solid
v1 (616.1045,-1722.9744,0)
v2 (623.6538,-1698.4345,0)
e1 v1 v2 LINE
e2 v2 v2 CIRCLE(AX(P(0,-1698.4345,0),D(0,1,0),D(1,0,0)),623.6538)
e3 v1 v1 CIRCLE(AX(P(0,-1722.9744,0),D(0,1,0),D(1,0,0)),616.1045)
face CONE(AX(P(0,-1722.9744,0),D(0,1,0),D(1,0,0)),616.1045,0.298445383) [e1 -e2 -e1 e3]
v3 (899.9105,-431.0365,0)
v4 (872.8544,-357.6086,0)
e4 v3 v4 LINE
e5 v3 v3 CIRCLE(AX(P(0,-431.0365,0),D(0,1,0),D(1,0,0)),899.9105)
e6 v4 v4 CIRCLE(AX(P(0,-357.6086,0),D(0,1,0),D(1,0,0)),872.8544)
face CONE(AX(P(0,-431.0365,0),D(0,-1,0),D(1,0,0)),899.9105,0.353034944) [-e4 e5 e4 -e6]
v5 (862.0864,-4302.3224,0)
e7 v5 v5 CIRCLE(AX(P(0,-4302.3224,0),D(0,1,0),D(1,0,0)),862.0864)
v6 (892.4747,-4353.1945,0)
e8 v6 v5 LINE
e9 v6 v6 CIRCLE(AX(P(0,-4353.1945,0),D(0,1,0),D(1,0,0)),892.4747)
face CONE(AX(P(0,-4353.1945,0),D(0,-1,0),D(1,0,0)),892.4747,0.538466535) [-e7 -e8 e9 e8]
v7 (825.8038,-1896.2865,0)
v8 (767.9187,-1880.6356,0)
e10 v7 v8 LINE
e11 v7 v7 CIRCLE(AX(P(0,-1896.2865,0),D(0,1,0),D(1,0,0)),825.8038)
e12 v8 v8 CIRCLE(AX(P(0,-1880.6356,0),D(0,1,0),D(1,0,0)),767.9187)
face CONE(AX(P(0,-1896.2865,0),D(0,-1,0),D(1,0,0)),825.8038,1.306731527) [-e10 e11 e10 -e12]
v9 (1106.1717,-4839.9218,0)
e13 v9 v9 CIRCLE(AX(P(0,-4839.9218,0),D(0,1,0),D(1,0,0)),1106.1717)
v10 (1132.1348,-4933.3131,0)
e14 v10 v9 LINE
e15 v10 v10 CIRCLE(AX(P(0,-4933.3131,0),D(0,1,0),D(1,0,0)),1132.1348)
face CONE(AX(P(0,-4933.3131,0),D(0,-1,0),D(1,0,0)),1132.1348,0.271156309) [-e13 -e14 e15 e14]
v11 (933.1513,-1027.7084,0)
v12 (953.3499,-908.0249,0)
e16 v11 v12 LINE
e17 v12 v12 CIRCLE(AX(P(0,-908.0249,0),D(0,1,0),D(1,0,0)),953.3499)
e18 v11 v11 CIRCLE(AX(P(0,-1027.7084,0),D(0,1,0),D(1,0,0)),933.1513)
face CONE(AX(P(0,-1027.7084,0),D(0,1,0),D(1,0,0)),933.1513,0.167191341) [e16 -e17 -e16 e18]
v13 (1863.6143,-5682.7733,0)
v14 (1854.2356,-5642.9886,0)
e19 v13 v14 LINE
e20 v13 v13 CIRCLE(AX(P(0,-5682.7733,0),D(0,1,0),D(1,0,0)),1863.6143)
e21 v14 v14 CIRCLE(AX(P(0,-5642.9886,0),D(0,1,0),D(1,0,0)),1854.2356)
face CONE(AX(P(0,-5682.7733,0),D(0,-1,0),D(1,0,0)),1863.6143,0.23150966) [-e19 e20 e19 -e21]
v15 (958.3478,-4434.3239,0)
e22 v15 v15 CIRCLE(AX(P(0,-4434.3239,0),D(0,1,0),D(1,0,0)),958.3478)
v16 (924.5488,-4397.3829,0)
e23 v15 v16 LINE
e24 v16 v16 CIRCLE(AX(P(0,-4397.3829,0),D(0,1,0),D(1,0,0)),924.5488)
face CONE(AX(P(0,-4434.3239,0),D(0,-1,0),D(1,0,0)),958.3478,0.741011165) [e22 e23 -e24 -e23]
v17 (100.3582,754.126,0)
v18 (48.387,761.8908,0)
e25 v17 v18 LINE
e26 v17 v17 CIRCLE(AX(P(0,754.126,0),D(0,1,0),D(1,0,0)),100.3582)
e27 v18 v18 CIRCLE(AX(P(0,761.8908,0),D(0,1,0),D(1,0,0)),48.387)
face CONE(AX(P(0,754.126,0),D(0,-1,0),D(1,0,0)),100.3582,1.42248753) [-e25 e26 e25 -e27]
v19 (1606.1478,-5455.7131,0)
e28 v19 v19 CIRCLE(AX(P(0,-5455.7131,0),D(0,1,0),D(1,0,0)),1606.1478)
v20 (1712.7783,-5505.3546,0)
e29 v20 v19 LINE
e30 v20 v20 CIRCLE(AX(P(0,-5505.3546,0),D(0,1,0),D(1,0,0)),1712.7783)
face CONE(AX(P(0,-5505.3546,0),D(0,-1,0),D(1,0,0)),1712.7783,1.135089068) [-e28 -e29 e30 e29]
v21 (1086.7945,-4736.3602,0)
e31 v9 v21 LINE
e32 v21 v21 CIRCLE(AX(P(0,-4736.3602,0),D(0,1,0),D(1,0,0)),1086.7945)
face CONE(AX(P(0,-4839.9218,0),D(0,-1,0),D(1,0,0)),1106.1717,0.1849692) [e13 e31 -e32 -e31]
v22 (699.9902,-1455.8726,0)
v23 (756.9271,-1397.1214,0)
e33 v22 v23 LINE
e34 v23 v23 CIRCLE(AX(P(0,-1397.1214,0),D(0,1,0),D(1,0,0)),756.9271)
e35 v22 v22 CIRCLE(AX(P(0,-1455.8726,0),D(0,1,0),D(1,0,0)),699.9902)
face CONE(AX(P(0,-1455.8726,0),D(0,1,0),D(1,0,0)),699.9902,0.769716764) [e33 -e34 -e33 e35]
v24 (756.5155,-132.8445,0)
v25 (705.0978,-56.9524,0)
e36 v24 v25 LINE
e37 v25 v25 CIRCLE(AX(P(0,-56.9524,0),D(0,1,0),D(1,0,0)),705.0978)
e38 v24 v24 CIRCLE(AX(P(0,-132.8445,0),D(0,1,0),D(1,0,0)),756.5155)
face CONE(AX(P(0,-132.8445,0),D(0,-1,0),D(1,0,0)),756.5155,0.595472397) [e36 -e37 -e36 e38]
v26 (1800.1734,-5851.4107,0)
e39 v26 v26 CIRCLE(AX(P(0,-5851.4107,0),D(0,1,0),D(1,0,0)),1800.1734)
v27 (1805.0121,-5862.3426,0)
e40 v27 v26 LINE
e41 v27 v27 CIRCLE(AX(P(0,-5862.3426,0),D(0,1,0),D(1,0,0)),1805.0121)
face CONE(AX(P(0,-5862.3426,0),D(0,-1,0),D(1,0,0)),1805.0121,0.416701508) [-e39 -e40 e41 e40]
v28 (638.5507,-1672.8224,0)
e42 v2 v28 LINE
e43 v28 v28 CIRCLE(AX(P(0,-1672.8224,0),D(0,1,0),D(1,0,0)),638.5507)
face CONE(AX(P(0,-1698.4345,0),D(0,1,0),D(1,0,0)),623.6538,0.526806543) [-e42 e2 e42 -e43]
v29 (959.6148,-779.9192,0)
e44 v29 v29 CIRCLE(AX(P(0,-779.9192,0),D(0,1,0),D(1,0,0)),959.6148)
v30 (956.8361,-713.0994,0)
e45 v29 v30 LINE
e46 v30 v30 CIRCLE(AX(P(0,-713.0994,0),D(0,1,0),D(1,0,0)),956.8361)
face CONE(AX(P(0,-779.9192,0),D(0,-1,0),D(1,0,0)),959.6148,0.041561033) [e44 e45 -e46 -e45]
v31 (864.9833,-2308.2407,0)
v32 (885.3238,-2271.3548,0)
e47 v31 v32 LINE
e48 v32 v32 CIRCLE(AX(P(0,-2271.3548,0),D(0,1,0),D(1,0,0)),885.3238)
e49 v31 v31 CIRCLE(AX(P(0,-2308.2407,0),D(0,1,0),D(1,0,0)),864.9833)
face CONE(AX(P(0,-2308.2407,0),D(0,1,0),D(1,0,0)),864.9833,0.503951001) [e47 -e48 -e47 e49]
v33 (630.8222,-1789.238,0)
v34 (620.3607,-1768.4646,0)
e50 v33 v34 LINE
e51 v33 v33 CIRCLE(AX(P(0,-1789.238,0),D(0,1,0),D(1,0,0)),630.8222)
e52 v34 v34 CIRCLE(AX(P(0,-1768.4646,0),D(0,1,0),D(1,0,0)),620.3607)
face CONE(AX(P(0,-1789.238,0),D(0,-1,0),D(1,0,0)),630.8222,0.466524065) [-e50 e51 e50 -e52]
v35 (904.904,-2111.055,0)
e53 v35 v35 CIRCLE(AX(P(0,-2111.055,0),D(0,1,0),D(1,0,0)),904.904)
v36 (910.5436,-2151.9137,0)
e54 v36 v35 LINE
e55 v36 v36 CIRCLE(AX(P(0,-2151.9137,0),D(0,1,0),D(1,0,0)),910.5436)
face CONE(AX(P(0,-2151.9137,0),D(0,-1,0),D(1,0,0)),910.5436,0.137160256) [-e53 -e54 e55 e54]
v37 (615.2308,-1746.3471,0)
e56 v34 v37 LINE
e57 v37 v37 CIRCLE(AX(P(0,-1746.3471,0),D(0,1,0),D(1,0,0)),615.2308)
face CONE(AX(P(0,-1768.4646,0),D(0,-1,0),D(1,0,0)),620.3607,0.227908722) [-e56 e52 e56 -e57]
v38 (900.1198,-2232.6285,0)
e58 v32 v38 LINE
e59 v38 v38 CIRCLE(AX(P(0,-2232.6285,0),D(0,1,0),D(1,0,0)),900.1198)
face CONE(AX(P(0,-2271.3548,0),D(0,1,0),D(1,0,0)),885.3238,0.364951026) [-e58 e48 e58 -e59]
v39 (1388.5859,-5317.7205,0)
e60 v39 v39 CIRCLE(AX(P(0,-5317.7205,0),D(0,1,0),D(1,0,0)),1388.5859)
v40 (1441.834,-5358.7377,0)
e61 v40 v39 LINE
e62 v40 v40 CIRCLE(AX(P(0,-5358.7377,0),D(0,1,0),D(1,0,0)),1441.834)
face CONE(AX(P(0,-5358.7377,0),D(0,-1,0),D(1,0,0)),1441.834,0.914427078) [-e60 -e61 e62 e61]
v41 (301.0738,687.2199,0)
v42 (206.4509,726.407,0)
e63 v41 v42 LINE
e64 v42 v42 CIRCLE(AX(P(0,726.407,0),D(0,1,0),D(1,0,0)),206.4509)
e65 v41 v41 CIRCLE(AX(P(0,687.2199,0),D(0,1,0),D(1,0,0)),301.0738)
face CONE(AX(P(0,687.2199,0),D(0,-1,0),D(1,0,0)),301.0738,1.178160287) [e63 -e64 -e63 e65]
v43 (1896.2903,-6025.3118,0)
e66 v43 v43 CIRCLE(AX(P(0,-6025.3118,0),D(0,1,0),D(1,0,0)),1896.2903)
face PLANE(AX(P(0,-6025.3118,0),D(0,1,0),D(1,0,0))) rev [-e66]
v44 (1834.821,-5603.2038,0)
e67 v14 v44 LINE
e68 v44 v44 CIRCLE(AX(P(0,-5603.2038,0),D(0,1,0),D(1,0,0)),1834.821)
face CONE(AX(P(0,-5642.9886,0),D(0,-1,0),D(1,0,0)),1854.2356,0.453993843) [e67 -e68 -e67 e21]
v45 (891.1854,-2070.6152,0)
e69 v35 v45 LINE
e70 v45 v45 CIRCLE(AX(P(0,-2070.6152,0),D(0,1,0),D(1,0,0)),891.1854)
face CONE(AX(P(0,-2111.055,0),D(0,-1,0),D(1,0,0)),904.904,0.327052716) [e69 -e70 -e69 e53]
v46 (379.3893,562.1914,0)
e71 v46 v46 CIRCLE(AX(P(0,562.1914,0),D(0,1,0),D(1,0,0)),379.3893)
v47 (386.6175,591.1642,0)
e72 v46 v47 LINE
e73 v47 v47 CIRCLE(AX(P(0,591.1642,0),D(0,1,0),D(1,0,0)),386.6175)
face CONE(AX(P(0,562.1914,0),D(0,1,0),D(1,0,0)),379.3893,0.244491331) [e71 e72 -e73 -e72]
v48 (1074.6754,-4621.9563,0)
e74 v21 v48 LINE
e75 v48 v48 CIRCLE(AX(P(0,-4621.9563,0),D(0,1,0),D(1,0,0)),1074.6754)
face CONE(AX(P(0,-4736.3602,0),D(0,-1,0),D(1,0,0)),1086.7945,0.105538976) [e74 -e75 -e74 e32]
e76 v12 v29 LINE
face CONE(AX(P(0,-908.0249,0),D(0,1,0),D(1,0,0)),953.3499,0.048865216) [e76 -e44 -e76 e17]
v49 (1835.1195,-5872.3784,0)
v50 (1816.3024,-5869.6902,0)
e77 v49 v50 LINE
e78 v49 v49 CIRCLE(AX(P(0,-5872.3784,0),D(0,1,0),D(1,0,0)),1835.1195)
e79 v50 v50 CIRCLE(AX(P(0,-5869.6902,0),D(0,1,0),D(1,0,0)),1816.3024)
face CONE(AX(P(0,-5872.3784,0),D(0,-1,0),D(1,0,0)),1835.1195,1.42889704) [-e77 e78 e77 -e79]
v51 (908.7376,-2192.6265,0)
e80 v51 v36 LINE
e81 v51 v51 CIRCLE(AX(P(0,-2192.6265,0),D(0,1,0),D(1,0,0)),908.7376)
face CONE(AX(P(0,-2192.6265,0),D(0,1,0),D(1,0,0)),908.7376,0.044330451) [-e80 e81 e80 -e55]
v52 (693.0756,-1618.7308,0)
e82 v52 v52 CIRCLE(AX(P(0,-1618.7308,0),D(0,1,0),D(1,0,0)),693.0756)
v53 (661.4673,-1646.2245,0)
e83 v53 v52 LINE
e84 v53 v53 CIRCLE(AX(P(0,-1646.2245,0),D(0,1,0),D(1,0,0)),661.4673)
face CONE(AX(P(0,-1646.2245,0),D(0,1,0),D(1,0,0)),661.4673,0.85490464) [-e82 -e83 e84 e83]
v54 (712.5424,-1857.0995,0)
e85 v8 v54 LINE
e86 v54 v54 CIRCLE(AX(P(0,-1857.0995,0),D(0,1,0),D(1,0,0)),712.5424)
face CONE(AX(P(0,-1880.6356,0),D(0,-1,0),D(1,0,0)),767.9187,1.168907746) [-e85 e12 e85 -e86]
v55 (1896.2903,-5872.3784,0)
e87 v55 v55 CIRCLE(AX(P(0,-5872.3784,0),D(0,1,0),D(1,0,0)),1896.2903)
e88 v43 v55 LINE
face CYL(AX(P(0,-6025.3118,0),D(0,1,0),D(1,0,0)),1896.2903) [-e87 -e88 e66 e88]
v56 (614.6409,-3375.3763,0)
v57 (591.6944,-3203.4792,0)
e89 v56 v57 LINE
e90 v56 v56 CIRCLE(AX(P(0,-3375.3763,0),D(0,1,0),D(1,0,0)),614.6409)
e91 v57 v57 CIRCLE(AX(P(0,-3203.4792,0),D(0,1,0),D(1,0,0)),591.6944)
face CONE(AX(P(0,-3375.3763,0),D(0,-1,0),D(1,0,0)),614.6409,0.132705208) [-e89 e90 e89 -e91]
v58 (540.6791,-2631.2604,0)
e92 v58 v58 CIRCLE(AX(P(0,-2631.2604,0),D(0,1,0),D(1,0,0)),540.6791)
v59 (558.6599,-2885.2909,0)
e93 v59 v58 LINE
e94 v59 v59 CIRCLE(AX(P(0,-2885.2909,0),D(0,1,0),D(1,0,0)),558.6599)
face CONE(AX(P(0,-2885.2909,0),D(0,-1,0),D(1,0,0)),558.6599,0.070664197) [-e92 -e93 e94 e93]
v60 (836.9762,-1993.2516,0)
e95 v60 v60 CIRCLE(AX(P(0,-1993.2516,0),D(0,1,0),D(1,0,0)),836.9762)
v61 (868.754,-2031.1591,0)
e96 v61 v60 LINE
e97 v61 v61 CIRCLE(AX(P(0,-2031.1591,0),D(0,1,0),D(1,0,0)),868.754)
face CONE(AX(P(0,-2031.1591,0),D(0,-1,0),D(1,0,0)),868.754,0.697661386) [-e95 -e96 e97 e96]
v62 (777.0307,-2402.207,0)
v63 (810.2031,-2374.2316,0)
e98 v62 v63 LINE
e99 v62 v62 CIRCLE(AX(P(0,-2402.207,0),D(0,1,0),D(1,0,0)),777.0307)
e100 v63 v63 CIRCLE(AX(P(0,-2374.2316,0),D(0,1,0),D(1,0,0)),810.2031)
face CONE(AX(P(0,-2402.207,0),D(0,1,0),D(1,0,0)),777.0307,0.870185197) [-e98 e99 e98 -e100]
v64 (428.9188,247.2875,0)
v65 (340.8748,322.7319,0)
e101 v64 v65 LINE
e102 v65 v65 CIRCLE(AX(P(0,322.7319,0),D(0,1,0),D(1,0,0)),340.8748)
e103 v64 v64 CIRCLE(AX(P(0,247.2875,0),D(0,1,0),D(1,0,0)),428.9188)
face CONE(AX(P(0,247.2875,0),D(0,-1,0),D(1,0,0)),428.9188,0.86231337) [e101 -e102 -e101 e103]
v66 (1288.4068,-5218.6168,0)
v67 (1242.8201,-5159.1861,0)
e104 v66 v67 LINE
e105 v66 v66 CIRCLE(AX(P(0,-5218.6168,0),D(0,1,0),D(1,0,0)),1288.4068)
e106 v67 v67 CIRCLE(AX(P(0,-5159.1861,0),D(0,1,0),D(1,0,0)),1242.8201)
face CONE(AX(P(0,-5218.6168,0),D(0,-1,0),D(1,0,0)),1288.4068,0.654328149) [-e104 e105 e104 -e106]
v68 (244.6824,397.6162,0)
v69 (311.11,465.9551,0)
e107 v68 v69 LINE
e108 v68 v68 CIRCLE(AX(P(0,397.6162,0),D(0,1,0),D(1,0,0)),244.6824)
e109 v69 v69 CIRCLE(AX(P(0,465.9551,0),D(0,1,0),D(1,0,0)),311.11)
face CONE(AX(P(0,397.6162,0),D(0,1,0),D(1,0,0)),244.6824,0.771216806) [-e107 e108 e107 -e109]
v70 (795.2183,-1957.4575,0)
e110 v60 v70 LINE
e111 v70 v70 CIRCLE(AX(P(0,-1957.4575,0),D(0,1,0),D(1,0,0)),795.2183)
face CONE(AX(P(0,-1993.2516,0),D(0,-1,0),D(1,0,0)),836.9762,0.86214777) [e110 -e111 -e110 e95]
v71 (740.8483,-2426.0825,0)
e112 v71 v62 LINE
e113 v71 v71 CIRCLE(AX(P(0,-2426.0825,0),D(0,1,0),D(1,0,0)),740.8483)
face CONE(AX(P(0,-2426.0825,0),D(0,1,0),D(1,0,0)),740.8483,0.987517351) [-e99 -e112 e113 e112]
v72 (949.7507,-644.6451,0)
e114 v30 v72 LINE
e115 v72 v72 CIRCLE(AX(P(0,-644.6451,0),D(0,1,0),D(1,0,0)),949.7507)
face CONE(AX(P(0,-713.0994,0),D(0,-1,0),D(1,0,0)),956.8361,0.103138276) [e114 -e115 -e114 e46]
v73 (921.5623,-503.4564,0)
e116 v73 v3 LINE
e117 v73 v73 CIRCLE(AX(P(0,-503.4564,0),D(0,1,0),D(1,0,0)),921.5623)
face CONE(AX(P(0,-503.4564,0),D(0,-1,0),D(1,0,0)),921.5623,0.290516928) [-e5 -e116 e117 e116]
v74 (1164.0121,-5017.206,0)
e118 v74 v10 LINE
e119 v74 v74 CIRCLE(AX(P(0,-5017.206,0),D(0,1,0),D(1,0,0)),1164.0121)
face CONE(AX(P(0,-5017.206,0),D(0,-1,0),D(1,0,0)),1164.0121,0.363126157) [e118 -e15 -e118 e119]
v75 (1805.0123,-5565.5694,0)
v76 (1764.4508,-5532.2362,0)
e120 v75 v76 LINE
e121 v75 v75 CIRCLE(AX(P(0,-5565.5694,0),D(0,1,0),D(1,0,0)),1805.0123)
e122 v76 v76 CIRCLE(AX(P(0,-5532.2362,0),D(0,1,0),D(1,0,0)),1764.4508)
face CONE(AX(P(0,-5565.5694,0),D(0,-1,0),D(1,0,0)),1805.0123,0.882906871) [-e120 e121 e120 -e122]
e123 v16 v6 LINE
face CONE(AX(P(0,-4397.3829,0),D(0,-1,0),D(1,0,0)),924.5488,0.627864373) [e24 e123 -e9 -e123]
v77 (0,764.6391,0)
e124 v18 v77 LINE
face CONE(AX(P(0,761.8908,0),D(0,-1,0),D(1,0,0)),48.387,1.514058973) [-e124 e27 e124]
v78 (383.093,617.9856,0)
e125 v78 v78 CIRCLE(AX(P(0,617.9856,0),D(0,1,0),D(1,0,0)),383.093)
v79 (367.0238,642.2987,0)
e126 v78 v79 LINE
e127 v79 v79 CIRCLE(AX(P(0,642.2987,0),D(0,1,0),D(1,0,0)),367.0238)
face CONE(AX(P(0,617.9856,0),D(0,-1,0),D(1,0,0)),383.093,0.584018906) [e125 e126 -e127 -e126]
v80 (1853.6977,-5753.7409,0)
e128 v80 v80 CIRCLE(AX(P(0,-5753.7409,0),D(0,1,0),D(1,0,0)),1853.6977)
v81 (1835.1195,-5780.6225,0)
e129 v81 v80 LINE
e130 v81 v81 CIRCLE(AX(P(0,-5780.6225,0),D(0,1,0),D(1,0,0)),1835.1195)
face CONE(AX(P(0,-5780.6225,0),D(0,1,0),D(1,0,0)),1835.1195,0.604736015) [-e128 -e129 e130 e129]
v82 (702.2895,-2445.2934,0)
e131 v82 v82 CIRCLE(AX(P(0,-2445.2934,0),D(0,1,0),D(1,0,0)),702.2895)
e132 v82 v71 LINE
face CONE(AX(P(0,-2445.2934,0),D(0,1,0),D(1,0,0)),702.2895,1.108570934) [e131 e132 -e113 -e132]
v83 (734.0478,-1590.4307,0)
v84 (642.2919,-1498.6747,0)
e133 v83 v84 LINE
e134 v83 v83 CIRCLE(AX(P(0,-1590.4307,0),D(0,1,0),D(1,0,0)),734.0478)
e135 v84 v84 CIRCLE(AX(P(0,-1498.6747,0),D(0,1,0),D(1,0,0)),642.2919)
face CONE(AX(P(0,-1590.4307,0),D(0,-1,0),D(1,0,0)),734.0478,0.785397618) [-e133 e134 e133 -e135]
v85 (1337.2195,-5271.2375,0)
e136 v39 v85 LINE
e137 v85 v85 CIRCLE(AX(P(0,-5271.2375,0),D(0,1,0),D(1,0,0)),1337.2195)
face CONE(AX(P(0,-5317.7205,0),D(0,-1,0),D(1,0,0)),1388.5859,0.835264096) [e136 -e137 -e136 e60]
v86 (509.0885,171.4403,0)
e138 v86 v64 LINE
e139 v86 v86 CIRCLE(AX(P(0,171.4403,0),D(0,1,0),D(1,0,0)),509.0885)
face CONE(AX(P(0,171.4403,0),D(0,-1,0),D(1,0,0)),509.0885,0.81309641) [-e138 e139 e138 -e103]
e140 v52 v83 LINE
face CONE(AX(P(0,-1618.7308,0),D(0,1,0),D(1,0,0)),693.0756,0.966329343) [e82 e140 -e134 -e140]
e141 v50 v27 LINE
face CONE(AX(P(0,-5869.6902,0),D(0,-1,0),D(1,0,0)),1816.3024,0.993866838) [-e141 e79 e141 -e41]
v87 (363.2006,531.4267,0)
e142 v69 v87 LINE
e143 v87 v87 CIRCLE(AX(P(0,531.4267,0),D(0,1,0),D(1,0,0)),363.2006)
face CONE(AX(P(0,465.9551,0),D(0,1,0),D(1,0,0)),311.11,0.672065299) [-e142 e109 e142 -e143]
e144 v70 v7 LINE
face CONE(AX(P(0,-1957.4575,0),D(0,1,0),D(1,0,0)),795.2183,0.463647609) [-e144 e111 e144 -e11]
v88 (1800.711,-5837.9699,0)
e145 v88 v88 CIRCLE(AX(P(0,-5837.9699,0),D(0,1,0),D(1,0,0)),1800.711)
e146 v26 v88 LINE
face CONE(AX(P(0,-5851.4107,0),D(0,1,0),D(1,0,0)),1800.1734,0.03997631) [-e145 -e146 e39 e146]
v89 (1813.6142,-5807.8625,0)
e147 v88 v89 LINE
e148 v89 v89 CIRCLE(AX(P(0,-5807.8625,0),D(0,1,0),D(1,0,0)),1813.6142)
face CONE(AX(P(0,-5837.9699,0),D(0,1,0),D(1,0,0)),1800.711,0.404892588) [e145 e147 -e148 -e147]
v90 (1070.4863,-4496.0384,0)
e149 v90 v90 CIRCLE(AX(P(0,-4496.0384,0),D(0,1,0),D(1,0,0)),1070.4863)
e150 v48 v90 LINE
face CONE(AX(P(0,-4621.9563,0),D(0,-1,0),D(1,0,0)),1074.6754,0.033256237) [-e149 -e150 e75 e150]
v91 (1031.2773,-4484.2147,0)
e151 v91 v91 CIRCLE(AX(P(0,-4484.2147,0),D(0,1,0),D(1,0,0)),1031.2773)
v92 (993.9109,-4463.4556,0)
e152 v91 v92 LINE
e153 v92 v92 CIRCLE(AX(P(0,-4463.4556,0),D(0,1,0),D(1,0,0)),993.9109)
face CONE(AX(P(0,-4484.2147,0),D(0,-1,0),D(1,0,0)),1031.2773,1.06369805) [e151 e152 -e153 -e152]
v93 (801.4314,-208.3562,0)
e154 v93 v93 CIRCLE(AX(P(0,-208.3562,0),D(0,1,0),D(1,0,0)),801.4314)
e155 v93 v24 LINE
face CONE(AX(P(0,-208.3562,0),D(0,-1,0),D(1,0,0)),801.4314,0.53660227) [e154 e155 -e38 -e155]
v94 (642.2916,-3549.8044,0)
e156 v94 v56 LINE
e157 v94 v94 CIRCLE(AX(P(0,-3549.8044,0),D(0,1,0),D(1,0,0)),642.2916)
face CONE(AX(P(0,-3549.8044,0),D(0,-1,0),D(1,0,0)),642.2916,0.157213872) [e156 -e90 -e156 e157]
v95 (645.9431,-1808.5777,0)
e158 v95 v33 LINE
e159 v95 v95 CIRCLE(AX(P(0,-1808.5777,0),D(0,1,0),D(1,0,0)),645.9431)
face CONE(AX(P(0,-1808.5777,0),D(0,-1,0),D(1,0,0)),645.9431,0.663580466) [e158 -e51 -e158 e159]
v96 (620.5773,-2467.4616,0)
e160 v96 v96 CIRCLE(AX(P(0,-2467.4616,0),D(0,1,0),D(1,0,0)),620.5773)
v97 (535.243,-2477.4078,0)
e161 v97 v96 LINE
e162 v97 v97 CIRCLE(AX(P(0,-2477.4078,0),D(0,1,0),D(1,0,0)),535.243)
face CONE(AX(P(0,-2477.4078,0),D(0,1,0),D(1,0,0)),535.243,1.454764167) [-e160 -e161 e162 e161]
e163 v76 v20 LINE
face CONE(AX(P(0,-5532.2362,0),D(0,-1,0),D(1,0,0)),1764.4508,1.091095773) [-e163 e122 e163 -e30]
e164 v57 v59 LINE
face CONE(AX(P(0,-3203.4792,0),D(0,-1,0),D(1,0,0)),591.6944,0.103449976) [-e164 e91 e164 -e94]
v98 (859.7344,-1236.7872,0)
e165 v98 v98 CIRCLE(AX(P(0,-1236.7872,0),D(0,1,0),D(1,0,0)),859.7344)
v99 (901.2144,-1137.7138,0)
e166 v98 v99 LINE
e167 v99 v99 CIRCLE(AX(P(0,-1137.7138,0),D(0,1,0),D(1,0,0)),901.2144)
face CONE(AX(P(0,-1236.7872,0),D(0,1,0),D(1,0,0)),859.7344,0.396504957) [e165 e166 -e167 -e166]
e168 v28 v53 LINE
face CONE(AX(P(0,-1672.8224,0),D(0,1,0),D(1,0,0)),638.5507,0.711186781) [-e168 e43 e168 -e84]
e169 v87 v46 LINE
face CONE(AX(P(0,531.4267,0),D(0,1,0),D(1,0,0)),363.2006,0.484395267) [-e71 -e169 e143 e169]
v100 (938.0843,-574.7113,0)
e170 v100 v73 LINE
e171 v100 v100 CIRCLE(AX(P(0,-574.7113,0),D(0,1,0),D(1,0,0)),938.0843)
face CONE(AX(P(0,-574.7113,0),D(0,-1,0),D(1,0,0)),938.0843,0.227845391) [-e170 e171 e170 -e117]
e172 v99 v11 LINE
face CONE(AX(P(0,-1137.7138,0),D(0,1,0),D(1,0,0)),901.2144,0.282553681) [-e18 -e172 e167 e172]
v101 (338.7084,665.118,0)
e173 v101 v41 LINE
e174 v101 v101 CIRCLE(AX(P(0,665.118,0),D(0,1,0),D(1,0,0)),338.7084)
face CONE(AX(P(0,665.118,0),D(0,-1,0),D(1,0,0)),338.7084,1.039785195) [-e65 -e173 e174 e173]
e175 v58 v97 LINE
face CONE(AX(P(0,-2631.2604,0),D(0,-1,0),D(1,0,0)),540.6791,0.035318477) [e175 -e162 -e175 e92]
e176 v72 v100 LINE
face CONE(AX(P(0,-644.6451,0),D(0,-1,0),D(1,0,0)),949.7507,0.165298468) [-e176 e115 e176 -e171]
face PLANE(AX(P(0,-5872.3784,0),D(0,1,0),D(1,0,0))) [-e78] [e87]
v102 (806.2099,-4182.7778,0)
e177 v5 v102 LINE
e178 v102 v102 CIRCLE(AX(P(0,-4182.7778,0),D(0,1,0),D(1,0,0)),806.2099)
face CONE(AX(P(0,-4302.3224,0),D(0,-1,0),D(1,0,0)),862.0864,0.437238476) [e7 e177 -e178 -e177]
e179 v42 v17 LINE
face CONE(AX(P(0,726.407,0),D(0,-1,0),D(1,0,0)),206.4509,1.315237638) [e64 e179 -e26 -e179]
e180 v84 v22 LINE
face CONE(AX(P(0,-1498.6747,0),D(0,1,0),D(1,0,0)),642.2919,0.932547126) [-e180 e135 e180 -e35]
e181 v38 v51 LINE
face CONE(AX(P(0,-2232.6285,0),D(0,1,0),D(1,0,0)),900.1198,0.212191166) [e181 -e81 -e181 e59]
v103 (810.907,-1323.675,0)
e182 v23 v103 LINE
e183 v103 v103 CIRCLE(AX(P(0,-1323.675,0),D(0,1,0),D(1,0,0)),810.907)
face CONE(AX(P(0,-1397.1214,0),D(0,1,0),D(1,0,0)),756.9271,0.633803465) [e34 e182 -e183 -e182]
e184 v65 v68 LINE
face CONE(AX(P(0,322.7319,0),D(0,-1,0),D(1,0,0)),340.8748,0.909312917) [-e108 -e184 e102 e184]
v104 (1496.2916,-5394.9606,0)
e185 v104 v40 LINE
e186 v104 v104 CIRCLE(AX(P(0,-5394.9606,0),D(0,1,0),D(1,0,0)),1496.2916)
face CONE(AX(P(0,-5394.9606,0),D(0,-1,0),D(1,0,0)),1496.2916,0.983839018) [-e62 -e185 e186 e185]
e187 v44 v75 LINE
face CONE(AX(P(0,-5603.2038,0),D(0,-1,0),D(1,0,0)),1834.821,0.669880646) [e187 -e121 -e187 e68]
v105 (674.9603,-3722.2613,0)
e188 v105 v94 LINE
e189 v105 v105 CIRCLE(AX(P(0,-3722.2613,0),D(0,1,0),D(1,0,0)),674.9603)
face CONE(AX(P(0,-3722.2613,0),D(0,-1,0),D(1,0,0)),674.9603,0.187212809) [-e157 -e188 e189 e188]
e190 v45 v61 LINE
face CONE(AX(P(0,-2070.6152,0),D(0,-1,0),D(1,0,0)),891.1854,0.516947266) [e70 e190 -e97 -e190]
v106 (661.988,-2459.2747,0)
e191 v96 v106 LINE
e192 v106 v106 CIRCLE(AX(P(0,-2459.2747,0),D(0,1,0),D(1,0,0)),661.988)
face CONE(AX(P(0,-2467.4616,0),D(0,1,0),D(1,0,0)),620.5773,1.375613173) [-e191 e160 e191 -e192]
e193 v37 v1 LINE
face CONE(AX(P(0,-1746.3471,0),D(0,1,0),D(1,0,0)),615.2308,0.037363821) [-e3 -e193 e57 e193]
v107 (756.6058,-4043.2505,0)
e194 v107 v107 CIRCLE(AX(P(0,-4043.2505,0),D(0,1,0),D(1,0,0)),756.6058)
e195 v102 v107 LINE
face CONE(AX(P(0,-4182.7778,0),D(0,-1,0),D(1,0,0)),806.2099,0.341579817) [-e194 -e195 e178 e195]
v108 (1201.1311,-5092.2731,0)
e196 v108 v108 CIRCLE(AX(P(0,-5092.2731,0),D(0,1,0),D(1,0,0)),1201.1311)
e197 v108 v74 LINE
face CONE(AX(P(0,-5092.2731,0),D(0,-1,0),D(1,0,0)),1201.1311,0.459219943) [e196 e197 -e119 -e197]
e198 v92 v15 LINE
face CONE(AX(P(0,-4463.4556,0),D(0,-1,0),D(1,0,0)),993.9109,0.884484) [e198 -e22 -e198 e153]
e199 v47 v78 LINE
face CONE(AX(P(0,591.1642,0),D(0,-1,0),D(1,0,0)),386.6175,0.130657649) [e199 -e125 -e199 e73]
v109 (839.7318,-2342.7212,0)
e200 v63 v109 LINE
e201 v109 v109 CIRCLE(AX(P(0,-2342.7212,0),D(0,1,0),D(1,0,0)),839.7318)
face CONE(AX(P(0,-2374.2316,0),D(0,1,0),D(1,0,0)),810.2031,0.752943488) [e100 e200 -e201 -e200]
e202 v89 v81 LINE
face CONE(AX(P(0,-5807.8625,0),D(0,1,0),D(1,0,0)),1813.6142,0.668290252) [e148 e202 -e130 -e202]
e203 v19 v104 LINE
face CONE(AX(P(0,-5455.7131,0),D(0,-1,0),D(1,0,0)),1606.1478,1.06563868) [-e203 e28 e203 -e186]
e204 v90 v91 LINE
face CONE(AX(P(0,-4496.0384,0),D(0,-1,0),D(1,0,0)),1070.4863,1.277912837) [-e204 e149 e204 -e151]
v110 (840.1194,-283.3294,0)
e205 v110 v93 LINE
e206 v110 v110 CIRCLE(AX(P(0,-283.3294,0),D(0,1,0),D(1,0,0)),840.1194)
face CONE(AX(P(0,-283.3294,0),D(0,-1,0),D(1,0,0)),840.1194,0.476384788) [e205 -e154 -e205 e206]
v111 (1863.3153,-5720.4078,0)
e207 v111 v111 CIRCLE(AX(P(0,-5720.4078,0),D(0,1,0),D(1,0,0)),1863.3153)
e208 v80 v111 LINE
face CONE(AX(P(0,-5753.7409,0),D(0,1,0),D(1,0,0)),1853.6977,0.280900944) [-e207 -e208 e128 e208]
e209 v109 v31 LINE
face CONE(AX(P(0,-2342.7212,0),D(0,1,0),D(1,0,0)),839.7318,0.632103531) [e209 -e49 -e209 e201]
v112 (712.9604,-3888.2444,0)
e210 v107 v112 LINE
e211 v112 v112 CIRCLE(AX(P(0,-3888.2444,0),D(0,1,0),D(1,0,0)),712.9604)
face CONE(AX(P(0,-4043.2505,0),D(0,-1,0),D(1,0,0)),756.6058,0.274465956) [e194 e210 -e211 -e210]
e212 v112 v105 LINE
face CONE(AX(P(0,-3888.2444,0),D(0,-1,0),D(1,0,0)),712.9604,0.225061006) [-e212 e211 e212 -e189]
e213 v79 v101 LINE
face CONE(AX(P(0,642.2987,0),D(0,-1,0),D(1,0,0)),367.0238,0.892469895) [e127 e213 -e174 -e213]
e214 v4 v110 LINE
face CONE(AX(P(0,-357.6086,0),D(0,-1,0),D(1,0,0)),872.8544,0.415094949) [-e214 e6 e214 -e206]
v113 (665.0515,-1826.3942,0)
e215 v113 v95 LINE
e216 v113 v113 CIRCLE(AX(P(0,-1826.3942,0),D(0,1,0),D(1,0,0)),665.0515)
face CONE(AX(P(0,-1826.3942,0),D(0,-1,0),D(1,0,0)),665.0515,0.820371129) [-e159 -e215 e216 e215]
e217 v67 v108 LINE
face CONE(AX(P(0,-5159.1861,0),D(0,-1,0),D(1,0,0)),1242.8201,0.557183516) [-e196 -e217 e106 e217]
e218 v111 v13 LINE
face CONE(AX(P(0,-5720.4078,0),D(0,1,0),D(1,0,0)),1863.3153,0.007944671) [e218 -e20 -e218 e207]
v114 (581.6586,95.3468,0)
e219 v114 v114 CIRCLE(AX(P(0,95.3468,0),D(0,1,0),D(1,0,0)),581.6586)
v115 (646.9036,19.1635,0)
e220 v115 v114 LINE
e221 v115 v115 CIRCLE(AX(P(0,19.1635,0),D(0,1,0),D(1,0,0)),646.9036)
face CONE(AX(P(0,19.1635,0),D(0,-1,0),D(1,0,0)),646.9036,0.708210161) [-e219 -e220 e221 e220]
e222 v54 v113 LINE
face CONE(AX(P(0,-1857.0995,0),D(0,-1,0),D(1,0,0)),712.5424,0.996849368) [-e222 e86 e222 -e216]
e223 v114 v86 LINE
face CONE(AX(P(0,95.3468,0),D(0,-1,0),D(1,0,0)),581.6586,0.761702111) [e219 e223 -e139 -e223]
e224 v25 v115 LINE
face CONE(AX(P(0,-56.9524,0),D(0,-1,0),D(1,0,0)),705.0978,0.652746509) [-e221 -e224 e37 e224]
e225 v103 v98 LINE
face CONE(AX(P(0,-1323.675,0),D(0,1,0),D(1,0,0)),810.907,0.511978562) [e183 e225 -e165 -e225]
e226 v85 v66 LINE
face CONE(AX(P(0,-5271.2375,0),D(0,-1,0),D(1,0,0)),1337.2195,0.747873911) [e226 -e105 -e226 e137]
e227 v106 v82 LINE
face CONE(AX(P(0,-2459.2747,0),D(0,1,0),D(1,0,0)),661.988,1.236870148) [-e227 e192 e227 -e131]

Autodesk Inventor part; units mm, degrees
ref_plane "YZ Plane" through (0, 0, 0) normal (1, 0, 0) x (0, 1, 0)
ref_plane "XZ Plane" through (0, 0, 0) normal (0, 1, 0) x (-1, 0, 0)
ref_plane "XY Plane" through (0, 0, 0) normal (0, 0, 1) x (1, 0, 0)
sketch "Sketch1" plane through (0, 0, 0) normal (0, 0, 1) x (1, 0, 0)
  line L0 (21.5053, 8068.2338) -> (-21.5053, 8025.2062)
  line L1 (0, 8082.5594) -> (0, 8010.8806)
  line L2 (57.3476, 8018.0434) -> (28.6738, 7989.3696)
  line L3 (43.0106, 8032.3944) -> (14.3368, 8003.7206)
  line L4 (28.6738, 8046.72) -> (0, 8018.0462)
  line L5 (0, -6025.3118) -> (1896.2903, -6025.3118)
  line L6 (1896.2903, -6025.3118) -> (1896.2903, -5872.3784)
  line L7 (1896.2903, -5872.3784) -> (1835.1195, -5872.3784)
  line L8 (1835.1195, -5872.3784) -> (1816.3024, -5869.6902)
  line L9 (1816.3024, -5869.6902) -> (1805.0121, -5862.3426)
  line L10 (1805.0121, -5862.3426) -> (1800.1734, -5851.4107)
  line L11 (1800.1734, -5851.4107) -> (1800.711, -5837.9699)
  line L12 (1800.711, -5837.9699) -> (1813.6142, -5807.8625)
  line L13 (1813.6142, -5807.8625) -> (1835.1195, -5780.6225)
  line L14 (1835.1195, -5780.6225) -> (1853.6977, -5753.7409)
  line L15 (1853.6977, -5753.7409) -> (1863.3153, -5720.4078)
  line L16 (1863.3153, -5720.4078) -> (1863.6143, -5682.7733)
  line L17 (1863.6143, -5682.7733) -> (1854.2356, -5642.9886)
  line L18 (1854.2356, -5642.9886) -> (1834.821, -5603.2038)
  line L19 (1834.821, -5603.2038) -> (1805.0123, -5565.5694)
  line L20 (1805.0123, -5565.5694) -> (1764.4508, -5532.2362)
  line L21 (1764.4508, -5532.2362) -> (1712.7783, -5505.3546)
  line L22 (1712.7783, -5505.3546) -> (1606.1478, -5455.7131)
  line L23 (1606.1478, -5455.7131) -> (1496.2916, -5394.9606)
  line L24 (1496.2916, -5394.9606) -> (1441.834, -5358.7377)
  line L25 (1441.834, -5358.7377) -> (1388.5859, -5317.7205)
  line L26 (1388.5859, -5317.7205) -> (1337.2195, -5271.2375)
  line L27 (1337.2195, -5271.2375) -> (1288.4068, -5218.6168)
  line L28 (1288.4068, -5218.6168) -> (1242.8201, -5159.1861)
  line L29 (1242.8201, -5159.1861) -> (1201.1311, -5092.2731)
  line L30 (1201.1311, -5092.2731) -> (1164.0121, -5017.206)
  line L31 (1164.0121, -5017.206) -> (1132.1348, -4933.3131)
  line L32 (1132.1348, -4933.3131) -> (1106.1717, -4839.9218)
  line L33 (1106.1717, -4839.9218) -> (1086.7945, -4736.3602)
  line L34 (1086.7945, -4736.3602) -> (1074.6754, -4621.9563)
  line L35 (1074.6754, -4621.9563) -> (1070.4863, -4496.0384)
  line L36 (1070.4863, -4496.0384) -> (1031.2773, -4484.2147)
  line L37 (1031.2773, -4484.2147) -> (993.9109, -4463.4556)
  line L38 (993.9109, -4463.4556) -> (958.3478, -4434.3239)
  line L39 (958.3478, -4434.3239) -> (924.5488, -4397.3829)
  line L40 (924.5488, -4397.3829) -> (892.4747, -4353.1945)
  line L41 (892.4747, -4353.1945) -> (862.0864, -4302.3224)
  line L42 (862.0864, -4302.3224) -> (806.2099, -4182.7778)
  line L43 (806.2099, -4182.7778) -> (756.6058, -4043.2505)
  line L44 (756.6058, -4043.2505) -> (712.9604, -3888.2444)
  line L45 (712.9604, -3888.2444) -> (674.9603, -3722.2613)
  line L46 (674.9603, -3722.2613) -> (642.2916, -3549.8044)
  line L47 (642.2916, -3549.8044) -> (614.6409, -3375.3763)
  line L48 (614.6409, -3375.3763) -> (591.6944, -3203.4792)
  line L49 (591.6944, -3203.4792) -> (558.6599, -2885.2909)
  line L50 (558.6599, -2885.2909) -> (540.6791, -2631.2604)
  line L51 (540.6791, -2631.2604) -> (535.243, -2477.4078)
  line L52 (535.243, -2477.4078) -> (620.5773, -2467.4616)
  line L53 (620.5773, -2467.4616) -> (661.988, -2459.2747)
  line L54 (661.988, -2459.2747) -> (702.2895, -2445.2934)
  line L55 (702.2895, -2445.2934) -> (740.8483, -2426.0825)
  line L56 (740.8483, -2426.0825) -> (777.0307, -2402.207)
  line L57 (777.0307, -2402.207) -> (810.2031, -2374.2316)
  line L58 (810.2031, -2374.2316) -> (839.7318, -2342.7212)
  line L59 (839.7318, -2342.7212) -> (864.9833, -2308.2407)
  line L60 (864.9833, -2308.2407) -> (885.3238, -2271.3548)
  line L61 (885.3238, -2271.3548) -> (900.1198, -2232.6285)
  line L62 (900.1198, -2232.6285) -> (908.7376, -2192.6265)
  line L63 (908.7376, -2192.6265) -> (910.5436, -2151.9137)
  line L64 (910.5436, -2151.9137) -> (904.904, -2111.055)
  line L65 (904.904, -2111.055) -> (891.1854, -2070.6152)
  line L66 (891.1854, -2070.6152) -> (868.754, -2031.1591)
  line L67 (868.754, -2031.1591) -> (836.9762, -1993.2516)
  line L68 (836.9762, -1993.2516) -> (795.2183, -1957.4575)
  line L69 (795.2183, -1957.4575) -> (825.8038, -1896.2865)
  line L70 (825.8038, -1896.2865) -> (767.9187, -1880.6356)
  line L71 (767.9187, -1880.6356) -> (712.5424, -1857.0995)
  line L72 (712.5424, -1857.0995) -> (665.0515, -1826.3942)
  line L73 (665.0515, -1826.3942) -> (645.9431, -1808.5777)
  line L74 (645.9431, -1808.5777) -> (630.8222, -1789.238)
  line L75 (630.8222, -1789.238) -> (620.3607, -1768.4646)
  line L76 (620.3607, -1768.4646) -> (615.2308, -1746.3471)
  line L77 (615.2308, -1746.3471) -> (616.1045, -1722.9744)
  line L78 (616.1045, -1722.9744) -> (623.6538, -1698.4345)
  line L79 (623.6538, -1698.4345) -> (638.5507, -1672.8224)
  line L80 (638.5507, -1672.8224) -> (661.4673, -1646.2245)
  line L81 (661.4673, -1646.2245) -> (693.0756, -1618.7308)
  line L82 (693.0756, -1618.7308) -> (734.0478, -1590.4307)
  line L83 (734.0478, -1590.4307) -> (642.2919, -1498.6747)
  line L84 (642.2919, -1498.6747) -> (699.9902, -1455.8726)
  line L85 (699.9902, -1455.8726) -> (756.9271, -1397.1214)
  line L86 (756.9271, -1397.1214) -> (810.907, -1323.675)
  line L87 (810.907, -1323.675) -> (859.7344, -1236.7872)
  line L88 (859.7344, -1236.7872) -> (901.2144, -1137.7138)
  line L89 (901.2144, -1137.7138) -> (933.1513, -1027.7084)
  line L90 (933.1513, -1027.7084) -> (953.3499, -908.0249)
  line L91 (953.3499, -908.0249) -> (959.6148, -779.9192)
  line L92 (959.6148, -779.9192) -> (956.8361, -713.0994)
  line L93 (956.8361, -713.0994) -> (949.7507, -644.6451)
  line L94 (949.7507, -644.6451) -> (938.0843, -574.7113)
  line L95 (938.0843, -574.7113) -> (921.5623, -503.4564)
  line L96 (921.5623, -503.4564) -> (899.9105, -431.0365)
  line L97 (899.9105, -431.0365) -> (872.8544, -357.6086)
  line L98 (872.8544, -357.6086) -> (840.1194, -283.3294)
  line L99 (840.1194, -283.3294) -> (801.4314, -208.3562)
  line L100 (801.4314, -208.3562) -> (756.5155, -132.8445)
  line L101 (756.5155, -132.8445) -> (705.0978, -56.9524)
  line L102 (705.0978, -56.9524) -> (646.9036, 19.1635)
  line L103 (646.9036, 19.1635) -> (581.6586, 95.3468)
  line L104 (581.6586, 95.3468) -> (509.0885, 171.4403)
  line L105 (509.0885, 171.4403) -> (428.9188, 247.2875)
  line L106 (428.9188, 247.2875) -> (340.8748, 322.7319)
  line L107 (340.8748, 322.7319) -> (244.6824, 397.6162)
  line L108 (244.6824, 397.6162) -> (311.11, 465.9551)
  line L109 (311.11, 465.9551) -> (363.2006, 531.4267)
  line L110 (363.2006, 531.4267) -> (379.3893, 562.1914)
  line L111 (379.3893, 562.1914) -> (386.6175, 591.1642)
  line L112 (386.6175, 591.1642) -> (383.093, 617.9856)
  line L113 (383.093, 617.9856) -> (367.0238, 642.2987)
  line L114 (367.0238, 642.2987) -> (338.7084, 665.118)
  line L115 (338.7084, 665.118) -> (301.0738, 687.2199)
  line L116 (301.0738, 687.2199) -> (206.4509, 726.407)
  line L117 (206.4509, 726.407) -> (100.3582, 754.126)
  line L118 (100.3582, 754.126) -> (48.387, 761.8908)
  line L119 (48.387, 761.8908) -> (0, 764.6391)
  line L120 (0, 764.6391) -> (0, -6025.3118)
  line L121 (0, -6025.3118) -> (0, 764.6391)
  point P0 (0, 0)
  point P1 (646.9036, 19.1635)
revolve "Revolution1" add sketch "Sketch1" angle 360 about axis through (0, -6025.3118, 0) along (0, 1, 0)
properties part number "Bishop"
